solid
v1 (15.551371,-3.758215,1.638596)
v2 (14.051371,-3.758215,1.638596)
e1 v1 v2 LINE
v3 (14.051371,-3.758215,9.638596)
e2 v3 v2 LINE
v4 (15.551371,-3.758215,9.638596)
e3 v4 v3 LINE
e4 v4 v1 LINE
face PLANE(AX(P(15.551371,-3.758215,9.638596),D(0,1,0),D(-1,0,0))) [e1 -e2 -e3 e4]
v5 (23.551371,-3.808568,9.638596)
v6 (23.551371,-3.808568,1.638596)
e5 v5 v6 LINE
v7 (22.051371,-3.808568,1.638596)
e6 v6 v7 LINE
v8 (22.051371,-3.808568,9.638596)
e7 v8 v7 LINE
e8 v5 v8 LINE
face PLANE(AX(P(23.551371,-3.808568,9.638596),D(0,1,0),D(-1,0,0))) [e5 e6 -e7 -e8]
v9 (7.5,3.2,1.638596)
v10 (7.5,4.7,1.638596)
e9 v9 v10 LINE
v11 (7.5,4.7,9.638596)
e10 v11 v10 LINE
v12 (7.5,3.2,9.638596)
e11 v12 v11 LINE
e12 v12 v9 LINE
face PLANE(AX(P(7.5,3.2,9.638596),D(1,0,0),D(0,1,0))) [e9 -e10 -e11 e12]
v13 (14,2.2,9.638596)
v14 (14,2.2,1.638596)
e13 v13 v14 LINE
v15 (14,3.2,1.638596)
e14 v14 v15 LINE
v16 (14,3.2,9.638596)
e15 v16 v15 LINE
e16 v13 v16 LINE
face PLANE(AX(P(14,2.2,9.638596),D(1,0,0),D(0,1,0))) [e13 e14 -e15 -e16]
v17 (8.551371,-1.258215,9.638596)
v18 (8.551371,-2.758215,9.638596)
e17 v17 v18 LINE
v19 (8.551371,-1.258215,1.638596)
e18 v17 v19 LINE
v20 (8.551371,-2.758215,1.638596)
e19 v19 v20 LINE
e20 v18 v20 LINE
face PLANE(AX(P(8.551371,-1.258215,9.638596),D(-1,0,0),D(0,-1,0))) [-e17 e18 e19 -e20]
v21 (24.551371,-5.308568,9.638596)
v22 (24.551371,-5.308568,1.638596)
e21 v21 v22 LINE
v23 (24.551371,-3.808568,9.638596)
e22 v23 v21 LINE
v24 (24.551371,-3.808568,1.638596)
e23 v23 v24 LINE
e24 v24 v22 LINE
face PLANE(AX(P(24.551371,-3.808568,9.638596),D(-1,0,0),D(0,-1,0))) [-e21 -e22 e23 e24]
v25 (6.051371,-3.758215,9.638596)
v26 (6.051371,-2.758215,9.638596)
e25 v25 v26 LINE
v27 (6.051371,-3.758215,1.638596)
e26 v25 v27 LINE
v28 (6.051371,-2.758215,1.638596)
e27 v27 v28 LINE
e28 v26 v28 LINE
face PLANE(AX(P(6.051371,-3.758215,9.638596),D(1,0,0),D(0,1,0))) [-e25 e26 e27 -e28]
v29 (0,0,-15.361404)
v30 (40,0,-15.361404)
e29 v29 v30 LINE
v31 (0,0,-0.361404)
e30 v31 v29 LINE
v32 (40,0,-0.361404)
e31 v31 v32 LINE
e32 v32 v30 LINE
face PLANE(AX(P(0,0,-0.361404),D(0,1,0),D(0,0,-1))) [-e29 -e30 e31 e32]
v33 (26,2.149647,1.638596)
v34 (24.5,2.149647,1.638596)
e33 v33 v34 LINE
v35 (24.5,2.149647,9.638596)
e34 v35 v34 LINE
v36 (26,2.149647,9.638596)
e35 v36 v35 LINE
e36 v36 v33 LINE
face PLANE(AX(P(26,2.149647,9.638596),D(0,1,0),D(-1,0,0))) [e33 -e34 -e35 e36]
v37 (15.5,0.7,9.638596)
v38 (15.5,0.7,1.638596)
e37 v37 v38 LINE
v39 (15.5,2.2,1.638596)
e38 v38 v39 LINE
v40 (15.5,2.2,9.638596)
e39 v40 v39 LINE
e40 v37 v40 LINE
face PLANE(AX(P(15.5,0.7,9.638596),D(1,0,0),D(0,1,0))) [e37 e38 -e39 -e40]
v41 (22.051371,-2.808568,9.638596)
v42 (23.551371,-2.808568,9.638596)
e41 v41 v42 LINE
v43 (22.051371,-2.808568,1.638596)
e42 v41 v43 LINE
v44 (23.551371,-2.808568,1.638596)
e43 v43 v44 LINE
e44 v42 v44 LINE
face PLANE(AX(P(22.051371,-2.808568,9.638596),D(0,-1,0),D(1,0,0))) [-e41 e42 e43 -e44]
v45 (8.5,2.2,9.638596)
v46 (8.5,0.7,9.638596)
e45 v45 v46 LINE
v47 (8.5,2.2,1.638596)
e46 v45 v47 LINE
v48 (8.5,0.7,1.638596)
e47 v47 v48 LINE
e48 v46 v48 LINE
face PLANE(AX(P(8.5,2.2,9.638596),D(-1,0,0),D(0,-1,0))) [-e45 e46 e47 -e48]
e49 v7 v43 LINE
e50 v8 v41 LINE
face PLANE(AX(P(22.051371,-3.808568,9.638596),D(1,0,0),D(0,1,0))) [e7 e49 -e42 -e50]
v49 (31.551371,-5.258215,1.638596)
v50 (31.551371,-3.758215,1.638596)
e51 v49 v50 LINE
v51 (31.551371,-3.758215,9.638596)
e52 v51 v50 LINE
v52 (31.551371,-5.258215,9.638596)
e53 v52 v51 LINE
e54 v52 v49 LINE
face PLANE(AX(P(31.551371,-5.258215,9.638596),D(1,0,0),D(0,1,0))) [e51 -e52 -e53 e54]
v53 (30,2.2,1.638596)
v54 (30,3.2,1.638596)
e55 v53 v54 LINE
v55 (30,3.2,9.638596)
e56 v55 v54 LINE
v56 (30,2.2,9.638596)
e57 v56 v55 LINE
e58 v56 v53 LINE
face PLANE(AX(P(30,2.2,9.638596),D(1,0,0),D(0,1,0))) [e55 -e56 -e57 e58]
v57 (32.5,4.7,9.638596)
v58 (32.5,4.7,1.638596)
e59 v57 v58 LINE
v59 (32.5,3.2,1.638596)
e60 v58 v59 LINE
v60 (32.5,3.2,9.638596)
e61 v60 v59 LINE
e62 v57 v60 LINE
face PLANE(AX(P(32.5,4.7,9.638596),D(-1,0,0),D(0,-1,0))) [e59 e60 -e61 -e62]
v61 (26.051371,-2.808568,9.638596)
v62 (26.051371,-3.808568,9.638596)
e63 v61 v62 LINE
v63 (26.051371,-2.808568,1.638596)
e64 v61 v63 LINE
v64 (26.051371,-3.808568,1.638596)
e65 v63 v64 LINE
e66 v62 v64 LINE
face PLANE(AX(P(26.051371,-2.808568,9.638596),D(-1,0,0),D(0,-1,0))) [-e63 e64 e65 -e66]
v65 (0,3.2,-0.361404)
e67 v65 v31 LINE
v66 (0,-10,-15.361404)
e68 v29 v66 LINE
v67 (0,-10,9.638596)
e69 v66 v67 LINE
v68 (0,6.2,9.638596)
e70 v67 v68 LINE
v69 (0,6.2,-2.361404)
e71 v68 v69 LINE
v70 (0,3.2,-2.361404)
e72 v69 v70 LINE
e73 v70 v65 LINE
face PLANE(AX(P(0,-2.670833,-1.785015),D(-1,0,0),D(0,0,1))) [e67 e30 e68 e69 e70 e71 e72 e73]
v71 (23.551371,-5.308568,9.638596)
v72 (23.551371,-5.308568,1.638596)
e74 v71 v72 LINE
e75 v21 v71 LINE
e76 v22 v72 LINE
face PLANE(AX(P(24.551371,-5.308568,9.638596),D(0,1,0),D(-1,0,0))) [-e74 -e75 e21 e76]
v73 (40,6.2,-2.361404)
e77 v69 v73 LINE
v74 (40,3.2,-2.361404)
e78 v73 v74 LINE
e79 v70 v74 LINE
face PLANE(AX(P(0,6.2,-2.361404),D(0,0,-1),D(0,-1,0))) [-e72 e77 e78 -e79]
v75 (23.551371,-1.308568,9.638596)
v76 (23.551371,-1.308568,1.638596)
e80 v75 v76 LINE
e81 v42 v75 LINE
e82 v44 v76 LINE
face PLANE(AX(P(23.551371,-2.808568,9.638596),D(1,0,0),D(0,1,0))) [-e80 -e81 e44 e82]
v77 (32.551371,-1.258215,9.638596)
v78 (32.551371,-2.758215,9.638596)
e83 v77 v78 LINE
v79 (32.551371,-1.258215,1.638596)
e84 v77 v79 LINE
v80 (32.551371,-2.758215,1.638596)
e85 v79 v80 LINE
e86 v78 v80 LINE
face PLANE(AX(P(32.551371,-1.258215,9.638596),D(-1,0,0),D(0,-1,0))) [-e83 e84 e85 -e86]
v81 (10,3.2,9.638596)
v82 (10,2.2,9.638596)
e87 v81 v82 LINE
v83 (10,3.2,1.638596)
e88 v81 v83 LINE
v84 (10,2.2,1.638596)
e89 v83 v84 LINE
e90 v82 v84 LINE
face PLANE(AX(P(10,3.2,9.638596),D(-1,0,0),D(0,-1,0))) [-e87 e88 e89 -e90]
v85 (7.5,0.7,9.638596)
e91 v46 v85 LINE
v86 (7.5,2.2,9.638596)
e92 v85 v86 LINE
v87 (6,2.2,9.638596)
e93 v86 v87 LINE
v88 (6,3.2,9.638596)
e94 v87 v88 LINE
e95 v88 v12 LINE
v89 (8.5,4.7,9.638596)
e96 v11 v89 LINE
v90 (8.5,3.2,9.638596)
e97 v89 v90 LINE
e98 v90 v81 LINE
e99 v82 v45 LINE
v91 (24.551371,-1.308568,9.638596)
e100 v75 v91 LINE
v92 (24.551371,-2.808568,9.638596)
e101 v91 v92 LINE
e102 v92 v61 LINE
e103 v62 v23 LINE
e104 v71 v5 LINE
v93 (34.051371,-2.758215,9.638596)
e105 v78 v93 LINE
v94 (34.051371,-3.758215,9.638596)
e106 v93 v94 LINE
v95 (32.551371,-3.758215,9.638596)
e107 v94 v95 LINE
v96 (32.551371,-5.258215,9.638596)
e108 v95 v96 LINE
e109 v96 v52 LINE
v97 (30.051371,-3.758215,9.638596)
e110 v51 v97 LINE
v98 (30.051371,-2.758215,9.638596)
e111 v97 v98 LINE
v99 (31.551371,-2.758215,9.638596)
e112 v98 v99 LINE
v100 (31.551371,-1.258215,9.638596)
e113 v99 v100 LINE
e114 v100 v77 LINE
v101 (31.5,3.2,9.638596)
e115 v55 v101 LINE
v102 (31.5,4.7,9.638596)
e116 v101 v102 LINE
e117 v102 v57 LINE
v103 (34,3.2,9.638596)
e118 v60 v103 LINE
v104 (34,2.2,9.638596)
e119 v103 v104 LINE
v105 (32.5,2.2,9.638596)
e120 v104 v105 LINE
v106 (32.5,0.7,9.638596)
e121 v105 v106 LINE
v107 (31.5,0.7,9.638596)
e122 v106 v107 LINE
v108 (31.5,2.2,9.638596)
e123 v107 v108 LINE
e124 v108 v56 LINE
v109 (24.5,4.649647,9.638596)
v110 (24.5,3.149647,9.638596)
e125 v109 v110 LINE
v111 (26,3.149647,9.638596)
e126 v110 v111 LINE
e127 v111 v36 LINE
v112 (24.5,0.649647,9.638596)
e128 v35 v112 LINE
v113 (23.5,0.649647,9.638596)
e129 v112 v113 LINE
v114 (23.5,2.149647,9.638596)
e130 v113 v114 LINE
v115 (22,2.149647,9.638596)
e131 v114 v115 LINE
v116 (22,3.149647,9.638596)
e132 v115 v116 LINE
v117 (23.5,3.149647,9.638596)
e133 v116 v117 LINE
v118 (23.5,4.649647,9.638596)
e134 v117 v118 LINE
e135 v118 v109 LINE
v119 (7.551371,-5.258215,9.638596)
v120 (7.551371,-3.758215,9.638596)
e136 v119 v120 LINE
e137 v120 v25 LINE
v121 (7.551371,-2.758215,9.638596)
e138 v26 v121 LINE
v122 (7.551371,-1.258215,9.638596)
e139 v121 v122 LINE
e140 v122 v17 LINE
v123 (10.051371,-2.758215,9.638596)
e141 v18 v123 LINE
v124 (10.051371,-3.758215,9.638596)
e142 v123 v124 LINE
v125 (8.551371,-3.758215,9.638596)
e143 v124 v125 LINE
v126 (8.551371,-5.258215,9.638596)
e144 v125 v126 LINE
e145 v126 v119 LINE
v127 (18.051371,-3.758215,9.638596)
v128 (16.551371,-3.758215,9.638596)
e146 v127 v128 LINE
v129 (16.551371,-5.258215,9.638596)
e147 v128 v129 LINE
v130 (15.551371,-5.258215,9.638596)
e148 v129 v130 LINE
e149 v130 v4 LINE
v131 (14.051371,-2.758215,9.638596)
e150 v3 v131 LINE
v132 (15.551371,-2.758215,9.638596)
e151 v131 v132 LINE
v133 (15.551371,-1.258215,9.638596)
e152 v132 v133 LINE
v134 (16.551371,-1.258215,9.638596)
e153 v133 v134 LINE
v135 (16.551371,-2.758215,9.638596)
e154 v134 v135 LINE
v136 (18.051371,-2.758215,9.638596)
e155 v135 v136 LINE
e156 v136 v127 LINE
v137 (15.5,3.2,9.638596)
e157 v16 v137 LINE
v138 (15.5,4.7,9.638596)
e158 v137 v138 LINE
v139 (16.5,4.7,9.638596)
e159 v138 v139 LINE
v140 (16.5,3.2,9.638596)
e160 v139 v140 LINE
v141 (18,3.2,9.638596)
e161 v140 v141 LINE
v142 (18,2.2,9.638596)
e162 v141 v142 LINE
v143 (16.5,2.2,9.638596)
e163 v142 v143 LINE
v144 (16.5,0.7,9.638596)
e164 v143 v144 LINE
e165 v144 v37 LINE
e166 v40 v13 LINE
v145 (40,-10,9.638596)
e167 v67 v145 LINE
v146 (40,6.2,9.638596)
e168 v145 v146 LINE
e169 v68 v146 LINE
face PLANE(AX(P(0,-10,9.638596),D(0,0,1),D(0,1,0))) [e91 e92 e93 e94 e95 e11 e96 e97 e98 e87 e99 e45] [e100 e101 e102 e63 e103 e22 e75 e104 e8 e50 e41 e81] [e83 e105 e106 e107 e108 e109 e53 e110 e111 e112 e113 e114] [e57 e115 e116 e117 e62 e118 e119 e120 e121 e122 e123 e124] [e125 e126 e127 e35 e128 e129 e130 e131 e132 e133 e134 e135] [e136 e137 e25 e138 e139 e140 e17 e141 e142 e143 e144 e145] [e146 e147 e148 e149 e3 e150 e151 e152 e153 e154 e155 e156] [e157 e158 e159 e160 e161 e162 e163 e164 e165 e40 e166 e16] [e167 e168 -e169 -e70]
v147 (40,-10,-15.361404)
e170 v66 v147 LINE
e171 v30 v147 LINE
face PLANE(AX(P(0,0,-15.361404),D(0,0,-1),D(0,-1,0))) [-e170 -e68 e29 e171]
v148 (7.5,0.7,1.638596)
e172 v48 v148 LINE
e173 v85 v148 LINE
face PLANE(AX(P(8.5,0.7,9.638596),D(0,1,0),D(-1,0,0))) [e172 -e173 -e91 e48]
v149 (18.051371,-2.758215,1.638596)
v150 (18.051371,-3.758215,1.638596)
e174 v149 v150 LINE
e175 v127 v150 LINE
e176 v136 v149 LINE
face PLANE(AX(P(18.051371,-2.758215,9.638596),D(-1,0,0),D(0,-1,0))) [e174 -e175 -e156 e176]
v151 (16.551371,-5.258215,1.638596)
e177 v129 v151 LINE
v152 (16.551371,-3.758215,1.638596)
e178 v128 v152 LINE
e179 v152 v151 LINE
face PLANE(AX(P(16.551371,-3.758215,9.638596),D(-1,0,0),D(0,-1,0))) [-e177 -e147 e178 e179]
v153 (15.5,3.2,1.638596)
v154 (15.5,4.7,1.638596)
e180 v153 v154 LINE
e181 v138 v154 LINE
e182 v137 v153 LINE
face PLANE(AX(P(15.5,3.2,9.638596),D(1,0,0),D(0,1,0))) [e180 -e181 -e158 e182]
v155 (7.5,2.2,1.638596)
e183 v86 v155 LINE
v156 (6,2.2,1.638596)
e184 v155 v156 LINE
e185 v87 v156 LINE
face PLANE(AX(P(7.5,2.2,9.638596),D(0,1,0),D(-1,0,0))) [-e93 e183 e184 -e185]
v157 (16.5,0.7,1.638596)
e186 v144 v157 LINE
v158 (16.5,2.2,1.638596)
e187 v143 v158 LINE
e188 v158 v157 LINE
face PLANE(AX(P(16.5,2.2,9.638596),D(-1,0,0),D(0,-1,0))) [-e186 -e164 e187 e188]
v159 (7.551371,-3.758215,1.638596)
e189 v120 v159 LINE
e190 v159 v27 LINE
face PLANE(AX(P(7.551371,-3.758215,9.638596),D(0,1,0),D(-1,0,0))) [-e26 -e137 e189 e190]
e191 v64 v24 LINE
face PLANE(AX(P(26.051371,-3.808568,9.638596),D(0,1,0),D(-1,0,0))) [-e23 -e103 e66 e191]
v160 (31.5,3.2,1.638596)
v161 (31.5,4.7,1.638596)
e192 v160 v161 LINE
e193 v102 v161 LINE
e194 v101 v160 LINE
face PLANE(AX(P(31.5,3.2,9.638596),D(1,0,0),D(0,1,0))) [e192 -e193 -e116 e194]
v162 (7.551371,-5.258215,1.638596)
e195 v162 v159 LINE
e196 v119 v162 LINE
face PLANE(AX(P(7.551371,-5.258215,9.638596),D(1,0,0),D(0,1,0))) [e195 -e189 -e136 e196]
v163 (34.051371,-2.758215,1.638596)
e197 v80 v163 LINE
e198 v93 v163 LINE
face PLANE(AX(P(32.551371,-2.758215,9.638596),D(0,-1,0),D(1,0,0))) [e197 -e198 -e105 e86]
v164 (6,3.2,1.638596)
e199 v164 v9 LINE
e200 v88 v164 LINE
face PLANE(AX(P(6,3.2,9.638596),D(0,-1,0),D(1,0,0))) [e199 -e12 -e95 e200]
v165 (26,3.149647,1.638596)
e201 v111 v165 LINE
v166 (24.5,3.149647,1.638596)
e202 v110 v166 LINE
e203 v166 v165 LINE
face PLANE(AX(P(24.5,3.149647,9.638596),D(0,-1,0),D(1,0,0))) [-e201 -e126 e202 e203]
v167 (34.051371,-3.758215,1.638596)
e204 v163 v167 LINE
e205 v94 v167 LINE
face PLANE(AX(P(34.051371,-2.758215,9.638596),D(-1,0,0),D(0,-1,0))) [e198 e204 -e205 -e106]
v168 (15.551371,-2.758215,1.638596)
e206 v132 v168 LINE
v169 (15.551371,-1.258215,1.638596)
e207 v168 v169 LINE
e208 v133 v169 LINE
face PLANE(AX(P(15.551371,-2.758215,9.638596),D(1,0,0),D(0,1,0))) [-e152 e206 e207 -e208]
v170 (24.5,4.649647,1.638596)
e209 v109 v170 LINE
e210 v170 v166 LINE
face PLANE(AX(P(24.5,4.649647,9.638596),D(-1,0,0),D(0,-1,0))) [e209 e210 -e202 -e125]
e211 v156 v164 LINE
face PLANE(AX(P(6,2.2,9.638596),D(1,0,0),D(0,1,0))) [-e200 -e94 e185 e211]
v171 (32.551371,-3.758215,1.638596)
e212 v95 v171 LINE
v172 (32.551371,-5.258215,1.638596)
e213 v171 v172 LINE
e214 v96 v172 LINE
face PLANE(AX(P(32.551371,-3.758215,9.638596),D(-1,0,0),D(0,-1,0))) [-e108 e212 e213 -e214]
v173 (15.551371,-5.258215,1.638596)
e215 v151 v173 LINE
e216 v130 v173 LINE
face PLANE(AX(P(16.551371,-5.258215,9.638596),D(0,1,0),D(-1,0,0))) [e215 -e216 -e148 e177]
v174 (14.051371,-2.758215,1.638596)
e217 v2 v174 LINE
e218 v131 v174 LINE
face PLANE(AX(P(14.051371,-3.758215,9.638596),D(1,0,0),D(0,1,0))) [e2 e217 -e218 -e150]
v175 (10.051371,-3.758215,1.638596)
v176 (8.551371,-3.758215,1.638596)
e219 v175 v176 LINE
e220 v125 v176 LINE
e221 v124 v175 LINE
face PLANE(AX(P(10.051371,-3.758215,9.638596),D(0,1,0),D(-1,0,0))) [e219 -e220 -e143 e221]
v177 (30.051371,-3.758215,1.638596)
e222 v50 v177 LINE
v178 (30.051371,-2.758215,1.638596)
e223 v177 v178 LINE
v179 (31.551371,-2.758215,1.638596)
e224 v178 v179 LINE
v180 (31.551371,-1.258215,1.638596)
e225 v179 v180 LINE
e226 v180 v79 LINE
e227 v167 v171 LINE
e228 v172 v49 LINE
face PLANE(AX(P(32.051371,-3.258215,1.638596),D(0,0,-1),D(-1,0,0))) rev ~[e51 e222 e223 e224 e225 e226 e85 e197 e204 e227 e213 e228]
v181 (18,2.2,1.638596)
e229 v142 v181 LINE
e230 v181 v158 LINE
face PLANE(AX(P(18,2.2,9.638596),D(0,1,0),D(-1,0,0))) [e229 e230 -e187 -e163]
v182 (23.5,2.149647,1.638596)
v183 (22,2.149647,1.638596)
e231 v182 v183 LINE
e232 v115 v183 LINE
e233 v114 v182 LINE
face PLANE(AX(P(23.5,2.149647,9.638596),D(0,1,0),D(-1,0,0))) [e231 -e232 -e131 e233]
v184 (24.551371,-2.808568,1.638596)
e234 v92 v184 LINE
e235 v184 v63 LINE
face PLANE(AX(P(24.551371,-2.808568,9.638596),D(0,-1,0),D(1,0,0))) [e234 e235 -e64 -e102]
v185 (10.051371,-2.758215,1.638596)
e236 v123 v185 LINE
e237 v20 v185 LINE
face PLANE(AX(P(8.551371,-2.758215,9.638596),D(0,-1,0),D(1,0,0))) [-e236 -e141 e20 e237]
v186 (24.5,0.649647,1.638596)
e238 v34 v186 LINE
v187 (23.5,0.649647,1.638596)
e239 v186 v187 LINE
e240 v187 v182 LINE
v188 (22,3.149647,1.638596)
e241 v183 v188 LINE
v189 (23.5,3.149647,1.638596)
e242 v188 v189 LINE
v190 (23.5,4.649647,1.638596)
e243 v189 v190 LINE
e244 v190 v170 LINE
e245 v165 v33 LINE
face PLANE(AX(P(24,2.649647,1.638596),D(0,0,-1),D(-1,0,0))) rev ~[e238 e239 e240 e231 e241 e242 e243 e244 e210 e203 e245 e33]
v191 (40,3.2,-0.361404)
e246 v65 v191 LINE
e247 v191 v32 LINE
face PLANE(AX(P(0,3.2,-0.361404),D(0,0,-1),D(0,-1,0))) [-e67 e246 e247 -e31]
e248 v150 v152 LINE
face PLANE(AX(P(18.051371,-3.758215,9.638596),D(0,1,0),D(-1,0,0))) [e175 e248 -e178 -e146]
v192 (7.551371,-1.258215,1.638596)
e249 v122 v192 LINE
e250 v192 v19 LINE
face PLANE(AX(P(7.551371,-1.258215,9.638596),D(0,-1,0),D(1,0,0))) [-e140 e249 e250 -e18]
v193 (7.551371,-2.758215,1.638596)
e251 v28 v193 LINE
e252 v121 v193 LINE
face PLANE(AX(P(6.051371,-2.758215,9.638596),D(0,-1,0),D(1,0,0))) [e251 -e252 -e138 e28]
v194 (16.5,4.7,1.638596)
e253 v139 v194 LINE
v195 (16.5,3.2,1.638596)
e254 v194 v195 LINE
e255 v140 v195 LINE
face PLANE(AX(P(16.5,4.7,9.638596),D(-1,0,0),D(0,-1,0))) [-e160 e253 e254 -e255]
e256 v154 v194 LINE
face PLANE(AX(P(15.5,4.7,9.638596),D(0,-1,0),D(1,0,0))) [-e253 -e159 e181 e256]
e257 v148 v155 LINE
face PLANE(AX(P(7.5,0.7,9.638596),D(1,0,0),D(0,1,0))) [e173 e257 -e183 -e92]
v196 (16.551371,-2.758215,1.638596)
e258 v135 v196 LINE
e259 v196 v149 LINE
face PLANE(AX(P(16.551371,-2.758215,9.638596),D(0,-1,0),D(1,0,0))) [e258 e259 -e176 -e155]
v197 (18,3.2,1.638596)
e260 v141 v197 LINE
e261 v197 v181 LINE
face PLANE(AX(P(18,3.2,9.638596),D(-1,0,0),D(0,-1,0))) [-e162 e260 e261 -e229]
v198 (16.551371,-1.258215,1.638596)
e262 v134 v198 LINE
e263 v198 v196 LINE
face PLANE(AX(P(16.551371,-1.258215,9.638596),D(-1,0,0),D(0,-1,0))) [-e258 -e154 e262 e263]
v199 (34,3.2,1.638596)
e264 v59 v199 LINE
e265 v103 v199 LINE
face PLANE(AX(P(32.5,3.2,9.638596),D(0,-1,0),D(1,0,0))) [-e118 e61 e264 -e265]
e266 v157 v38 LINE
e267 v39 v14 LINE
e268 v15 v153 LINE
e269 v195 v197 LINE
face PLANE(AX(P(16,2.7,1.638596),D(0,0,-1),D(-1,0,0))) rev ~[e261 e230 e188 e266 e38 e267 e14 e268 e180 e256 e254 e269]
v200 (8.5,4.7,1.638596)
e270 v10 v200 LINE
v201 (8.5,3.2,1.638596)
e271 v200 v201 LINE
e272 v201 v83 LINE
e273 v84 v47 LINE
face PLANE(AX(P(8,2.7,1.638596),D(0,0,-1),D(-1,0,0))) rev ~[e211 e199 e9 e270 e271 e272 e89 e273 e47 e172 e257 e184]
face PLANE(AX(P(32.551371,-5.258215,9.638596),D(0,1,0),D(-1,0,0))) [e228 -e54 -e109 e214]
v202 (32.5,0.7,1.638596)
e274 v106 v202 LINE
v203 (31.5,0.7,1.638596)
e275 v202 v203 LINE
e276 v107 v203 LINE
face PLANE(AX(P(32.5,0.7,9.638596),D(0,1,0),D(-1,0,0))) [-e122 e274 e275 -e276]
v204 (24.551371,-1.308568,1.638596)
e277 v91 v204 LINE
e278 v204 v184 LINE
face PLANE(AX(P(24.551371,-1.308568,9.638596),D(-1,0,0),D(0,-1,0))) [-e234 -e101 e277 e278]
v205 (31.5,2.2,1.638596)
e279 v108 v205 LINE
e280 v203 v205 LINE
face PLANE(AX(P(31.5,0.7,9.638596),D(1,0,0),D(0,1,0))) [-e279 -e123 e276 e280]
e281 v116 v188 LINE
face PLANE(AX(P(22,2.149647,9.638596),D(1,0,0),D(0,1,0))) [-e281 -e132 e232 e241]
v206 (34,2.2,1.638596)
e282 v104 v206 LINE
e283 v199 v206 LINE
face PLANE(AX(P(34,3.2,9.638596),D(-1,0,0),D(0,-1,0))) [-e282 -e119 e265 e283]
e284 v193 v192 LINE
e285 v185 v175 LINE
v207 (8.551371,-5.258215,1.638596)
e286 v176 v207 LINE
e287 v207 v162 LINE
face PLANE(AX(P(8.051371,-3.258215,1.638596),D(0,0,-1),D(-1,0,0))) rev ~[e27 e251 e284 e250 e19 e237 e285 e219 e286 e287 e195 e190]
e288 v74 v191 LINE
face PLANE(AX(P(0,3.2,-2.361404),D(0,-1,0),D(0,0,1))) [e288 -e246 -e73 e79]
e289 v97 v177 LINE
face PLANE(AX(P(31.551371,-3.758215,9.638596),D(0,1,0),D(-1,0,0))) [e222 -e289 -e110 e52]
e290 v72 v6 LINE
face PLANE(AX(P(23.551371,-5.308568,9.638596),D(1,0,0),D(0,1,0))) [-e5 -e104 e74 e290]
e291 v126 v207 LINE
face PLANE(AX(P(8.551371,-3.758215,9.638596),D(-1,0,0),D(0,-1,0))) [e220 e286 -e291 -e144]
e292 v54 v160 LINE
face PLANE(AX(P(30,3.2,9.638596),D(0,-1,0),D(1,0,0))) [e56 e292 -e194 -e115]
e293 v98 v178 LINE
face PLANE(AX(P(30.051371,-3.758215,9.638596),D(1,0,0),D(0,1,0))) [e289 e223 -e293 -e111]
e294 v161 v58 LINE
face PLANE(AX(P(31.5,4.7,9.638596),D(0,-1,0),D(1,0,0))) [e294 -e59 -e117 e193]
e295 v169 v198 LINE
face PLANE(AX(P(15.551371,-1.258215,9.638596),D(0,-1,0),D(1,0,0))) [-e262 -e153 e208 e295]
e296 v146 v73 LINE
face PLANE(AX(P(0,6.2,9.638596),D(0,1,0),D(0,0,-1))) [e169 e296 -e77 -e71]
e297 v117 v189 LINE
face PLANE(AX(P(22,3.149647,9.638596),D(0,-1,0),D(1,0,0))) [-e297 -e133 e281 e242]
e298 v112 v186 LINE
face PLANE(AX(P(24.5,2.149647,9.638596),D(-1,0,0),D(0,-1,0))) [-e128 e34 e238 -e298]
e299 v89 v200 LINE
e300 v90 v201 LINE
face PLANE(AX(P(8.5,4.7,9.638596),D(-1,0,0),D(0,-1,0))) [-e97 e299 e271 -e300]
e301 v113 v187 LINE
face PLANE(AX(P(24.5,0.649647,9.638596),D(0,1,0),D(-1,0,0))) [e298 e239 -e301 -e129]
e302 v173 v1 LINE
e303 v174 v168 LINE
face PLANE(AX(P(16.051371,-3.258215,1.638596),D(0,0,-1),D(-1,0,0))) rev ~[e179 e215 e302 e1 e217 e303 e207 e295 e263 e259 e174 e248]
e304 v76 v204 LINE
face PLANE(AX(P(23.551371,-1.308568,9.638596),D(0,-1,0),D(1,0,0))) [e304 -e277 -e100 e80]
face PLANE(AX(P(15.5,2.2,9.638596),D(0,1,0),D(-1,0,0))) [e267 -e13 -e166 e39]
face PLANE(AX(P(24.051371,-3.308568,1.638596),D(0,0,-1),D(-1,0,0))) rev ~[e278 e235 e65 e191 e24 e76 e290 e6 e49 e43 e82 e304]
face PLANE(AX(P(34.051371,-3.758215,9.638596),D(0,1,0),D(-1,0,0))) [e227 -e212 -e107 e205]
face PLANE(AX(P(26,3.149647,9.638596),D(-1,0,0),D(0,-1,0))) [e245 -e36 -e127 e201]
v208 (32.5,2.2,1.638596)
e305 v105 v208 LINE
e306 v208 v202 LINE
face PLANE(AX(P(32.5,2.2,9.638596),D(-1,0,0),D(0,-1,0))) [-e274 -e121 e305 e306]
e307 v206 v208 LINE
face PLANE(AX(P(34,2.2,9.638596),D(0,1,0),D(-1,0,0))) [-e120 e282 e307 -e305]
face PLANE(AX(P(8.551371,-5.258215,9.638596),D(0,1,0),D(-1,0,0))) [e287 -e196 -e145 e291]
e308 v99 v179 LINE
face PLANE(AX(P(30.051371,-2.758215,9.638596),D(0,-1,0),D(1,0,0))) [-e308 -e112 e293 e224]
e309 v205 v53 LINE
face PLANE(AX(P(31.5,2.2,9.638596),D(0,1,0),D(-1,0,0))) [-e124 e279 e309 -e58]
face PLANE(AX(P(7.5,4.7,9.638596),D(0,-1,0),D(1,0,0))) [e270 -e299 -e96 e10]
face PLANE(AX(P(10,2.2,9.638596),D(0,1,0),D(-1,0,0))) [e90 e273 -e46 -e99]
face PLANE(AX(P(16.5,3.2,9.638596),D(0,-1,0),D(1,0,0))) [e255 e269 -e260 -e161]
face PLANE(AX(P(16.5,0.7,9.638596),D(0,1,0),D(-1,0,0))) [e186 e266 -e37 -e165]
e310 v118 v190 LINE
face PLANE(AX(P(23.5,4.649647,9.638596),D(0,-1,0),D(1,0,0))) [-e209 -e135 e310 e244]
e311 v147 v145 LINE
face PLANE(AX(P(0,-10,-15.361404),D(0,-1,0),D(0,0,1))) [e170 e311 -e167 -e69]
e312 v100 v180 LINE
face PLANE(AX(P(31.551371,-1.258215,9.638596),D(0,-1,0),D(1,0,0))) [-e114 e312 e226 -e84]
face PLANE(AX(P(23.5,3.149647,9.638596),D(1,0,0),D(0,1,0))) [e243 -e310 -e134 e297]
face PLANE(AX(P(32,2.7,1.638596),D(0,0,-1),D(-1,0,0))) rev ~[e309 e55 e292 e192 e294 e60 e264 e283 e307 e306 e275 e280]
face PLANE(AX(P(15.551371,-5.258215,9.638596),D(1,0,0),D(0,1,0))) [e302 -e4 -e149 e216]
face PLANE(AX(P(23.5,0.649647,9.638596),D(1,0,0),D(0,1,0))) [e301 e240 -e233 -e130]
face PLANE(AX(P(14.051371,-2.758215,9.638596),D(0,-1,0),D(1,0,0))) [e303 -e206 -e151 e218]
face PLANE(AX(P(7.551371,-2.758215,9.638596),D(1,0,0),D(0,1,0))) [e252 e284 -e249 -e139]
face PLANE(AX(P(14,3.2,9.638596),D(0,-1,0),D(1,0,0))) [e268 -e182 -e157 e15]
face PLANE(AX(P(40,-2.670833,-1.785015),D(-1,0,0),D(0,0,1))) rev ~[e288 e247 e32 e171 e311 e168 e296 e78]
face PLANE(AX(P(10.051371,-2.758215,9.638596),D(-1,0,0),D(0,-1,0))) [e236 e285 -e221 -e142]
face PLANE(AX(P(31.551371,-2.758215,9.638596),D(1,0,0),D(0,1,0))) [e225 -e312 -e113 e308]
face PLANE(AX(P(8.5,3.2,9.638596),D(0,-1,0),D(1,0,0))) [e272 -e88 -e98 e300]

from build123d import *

# Parameters (mm, degrees)
BOSS_EXTRUDE1_DEPTH = 40
CUT_EXTRUDE3_DEPTH  = 8


with BuildPart() as part:
    # Sketch1 → Boss-Extrude1 (new body)
    with BuildSketch(Plane(origin=(0, 0, 0), x_dir=(0, 0, -1), z_dir=(1, 0, 0))):
        Polygon((-9.638596491, 6.2), (2.361403509, 6.2), (2.361403509, 3.2), (0.361403509, 3.2), (0.361403509, 0), (15.361403509, 0), (15.361403509, -10), (-9.638596491, -10), align=None)
    extrude(amount=BOSS_EXTRUDE1_DEPTH)

    # Sketch2 → Cut-Extrude3 (cut)
    with BuildSketch(Plane.XY.offset(9.638596491)):
        Polygon((14, 2.2), (14, 3.2), (15.5, 3.2), (15.5, 4.7), (16.5, 4.7), (16.5, 3.2), (18, 3.2), (18, 2.2), (16.5, 2.2), (16.5, 0.7), (15.5, 0.7), (15.5, 2.2), align=None)
        Polygon((14.051371054, -3.758215043), (14.051371054, -2.758215043), (15.551371054, -2.758215043), (15.551371054, -1.258215043), (16.551371054, -1.258215043), (16.551371054, -2.758215043), (18.051371054, -2.758215043), (18.051371054, -3.758215043), (16.551371054, -3.758215043), (16.551371054, -5.258215043), (15.551371054, -5.258215043), (15.551371054, -3.758215043), align=None)
        Polygon((22.051371054, -3.808568011), (22.051371054, -2.808568011), (23.551371054, -2.808568011), (23.551371054, -1.308568011), (24.551371054, -1.308568011), (24.551371054, -2.808568011), (26.051371054, -2.808568011), (26.051371054, -3.808568011), (24.551371054, -3.808568011), (24.551371054, -5.308568011), (23.551371054, -5.308568011), (23.551371054, -3.808568011), align=None)
        Polygon((22, 2.149647032), (22, 3.149647032), (23.5, 3.149647032), (23.5, 4.649647032), (24.5, 4.649647032), (24.5, 3.149647032), (26, 3.149647032), (26, 2.149647032), (24.5, 2.149647032), (24.5, 0.649647032), (23.5, 0.649647032), (23.5, 2.149647032), align=None)
        Polygon((30, 2.2), (30, 3.2), (31.5, 3.2), (31.5, 4.7), (32.5, 4.7), (32.5, 3.2), (34, 3.2), (34, 2.2), (32.5, 2.2), (32.5, 0.7), (31.5, 0.7), (31.5, 2.2), align=None)
        Polygon((30.051371054, -3.758215043), (30.051371054, -2.758215043), (31.551371054, -2.758215043), (31.551371054, -1.258215043), (32.551371054, -1.258215043), (32.551371054, -2.758215043), (34.051371054, -2.758215043), (34.051371054, -3.758215043), (32.551371054, -3.758215043), (32.551371054, -5.258215043), (31.551371054, -5.258215043), (31.551371054, -3.758215043), align=None)
        Polygon((6, 2.2), (6, 3.2), (7.5, 3.2), (7.5, 4.7), (8.5, 4.7), (8.5, 3.2), (10, 3.2), (10, 2.2), (8.5, 2.2), (8.5, 0.7), (7.5, 0.7), (7.5, 2.2), align=None)
        Polygon((6.051371054, -2.758215043), (7.551371054, -2.758215043), (7.551371054, -1.258215043), (8.551371054, -1.258215043), (8.551371054, -2.758215043), (10.051371054, -2.758215043), (10.051371054, -3.758215043), (8.551371054, -3.758215043), (8.551371054, -5.258215043), (7.551371054, -5.258215043), (7.551371054, -3.758215043), (6.051371054, -3.758215043), align=None)
    extrude(amount=-CUT_EXTRUDE3_DEPTH, mode=Mode.SUBTRACT)


solid = part.part
